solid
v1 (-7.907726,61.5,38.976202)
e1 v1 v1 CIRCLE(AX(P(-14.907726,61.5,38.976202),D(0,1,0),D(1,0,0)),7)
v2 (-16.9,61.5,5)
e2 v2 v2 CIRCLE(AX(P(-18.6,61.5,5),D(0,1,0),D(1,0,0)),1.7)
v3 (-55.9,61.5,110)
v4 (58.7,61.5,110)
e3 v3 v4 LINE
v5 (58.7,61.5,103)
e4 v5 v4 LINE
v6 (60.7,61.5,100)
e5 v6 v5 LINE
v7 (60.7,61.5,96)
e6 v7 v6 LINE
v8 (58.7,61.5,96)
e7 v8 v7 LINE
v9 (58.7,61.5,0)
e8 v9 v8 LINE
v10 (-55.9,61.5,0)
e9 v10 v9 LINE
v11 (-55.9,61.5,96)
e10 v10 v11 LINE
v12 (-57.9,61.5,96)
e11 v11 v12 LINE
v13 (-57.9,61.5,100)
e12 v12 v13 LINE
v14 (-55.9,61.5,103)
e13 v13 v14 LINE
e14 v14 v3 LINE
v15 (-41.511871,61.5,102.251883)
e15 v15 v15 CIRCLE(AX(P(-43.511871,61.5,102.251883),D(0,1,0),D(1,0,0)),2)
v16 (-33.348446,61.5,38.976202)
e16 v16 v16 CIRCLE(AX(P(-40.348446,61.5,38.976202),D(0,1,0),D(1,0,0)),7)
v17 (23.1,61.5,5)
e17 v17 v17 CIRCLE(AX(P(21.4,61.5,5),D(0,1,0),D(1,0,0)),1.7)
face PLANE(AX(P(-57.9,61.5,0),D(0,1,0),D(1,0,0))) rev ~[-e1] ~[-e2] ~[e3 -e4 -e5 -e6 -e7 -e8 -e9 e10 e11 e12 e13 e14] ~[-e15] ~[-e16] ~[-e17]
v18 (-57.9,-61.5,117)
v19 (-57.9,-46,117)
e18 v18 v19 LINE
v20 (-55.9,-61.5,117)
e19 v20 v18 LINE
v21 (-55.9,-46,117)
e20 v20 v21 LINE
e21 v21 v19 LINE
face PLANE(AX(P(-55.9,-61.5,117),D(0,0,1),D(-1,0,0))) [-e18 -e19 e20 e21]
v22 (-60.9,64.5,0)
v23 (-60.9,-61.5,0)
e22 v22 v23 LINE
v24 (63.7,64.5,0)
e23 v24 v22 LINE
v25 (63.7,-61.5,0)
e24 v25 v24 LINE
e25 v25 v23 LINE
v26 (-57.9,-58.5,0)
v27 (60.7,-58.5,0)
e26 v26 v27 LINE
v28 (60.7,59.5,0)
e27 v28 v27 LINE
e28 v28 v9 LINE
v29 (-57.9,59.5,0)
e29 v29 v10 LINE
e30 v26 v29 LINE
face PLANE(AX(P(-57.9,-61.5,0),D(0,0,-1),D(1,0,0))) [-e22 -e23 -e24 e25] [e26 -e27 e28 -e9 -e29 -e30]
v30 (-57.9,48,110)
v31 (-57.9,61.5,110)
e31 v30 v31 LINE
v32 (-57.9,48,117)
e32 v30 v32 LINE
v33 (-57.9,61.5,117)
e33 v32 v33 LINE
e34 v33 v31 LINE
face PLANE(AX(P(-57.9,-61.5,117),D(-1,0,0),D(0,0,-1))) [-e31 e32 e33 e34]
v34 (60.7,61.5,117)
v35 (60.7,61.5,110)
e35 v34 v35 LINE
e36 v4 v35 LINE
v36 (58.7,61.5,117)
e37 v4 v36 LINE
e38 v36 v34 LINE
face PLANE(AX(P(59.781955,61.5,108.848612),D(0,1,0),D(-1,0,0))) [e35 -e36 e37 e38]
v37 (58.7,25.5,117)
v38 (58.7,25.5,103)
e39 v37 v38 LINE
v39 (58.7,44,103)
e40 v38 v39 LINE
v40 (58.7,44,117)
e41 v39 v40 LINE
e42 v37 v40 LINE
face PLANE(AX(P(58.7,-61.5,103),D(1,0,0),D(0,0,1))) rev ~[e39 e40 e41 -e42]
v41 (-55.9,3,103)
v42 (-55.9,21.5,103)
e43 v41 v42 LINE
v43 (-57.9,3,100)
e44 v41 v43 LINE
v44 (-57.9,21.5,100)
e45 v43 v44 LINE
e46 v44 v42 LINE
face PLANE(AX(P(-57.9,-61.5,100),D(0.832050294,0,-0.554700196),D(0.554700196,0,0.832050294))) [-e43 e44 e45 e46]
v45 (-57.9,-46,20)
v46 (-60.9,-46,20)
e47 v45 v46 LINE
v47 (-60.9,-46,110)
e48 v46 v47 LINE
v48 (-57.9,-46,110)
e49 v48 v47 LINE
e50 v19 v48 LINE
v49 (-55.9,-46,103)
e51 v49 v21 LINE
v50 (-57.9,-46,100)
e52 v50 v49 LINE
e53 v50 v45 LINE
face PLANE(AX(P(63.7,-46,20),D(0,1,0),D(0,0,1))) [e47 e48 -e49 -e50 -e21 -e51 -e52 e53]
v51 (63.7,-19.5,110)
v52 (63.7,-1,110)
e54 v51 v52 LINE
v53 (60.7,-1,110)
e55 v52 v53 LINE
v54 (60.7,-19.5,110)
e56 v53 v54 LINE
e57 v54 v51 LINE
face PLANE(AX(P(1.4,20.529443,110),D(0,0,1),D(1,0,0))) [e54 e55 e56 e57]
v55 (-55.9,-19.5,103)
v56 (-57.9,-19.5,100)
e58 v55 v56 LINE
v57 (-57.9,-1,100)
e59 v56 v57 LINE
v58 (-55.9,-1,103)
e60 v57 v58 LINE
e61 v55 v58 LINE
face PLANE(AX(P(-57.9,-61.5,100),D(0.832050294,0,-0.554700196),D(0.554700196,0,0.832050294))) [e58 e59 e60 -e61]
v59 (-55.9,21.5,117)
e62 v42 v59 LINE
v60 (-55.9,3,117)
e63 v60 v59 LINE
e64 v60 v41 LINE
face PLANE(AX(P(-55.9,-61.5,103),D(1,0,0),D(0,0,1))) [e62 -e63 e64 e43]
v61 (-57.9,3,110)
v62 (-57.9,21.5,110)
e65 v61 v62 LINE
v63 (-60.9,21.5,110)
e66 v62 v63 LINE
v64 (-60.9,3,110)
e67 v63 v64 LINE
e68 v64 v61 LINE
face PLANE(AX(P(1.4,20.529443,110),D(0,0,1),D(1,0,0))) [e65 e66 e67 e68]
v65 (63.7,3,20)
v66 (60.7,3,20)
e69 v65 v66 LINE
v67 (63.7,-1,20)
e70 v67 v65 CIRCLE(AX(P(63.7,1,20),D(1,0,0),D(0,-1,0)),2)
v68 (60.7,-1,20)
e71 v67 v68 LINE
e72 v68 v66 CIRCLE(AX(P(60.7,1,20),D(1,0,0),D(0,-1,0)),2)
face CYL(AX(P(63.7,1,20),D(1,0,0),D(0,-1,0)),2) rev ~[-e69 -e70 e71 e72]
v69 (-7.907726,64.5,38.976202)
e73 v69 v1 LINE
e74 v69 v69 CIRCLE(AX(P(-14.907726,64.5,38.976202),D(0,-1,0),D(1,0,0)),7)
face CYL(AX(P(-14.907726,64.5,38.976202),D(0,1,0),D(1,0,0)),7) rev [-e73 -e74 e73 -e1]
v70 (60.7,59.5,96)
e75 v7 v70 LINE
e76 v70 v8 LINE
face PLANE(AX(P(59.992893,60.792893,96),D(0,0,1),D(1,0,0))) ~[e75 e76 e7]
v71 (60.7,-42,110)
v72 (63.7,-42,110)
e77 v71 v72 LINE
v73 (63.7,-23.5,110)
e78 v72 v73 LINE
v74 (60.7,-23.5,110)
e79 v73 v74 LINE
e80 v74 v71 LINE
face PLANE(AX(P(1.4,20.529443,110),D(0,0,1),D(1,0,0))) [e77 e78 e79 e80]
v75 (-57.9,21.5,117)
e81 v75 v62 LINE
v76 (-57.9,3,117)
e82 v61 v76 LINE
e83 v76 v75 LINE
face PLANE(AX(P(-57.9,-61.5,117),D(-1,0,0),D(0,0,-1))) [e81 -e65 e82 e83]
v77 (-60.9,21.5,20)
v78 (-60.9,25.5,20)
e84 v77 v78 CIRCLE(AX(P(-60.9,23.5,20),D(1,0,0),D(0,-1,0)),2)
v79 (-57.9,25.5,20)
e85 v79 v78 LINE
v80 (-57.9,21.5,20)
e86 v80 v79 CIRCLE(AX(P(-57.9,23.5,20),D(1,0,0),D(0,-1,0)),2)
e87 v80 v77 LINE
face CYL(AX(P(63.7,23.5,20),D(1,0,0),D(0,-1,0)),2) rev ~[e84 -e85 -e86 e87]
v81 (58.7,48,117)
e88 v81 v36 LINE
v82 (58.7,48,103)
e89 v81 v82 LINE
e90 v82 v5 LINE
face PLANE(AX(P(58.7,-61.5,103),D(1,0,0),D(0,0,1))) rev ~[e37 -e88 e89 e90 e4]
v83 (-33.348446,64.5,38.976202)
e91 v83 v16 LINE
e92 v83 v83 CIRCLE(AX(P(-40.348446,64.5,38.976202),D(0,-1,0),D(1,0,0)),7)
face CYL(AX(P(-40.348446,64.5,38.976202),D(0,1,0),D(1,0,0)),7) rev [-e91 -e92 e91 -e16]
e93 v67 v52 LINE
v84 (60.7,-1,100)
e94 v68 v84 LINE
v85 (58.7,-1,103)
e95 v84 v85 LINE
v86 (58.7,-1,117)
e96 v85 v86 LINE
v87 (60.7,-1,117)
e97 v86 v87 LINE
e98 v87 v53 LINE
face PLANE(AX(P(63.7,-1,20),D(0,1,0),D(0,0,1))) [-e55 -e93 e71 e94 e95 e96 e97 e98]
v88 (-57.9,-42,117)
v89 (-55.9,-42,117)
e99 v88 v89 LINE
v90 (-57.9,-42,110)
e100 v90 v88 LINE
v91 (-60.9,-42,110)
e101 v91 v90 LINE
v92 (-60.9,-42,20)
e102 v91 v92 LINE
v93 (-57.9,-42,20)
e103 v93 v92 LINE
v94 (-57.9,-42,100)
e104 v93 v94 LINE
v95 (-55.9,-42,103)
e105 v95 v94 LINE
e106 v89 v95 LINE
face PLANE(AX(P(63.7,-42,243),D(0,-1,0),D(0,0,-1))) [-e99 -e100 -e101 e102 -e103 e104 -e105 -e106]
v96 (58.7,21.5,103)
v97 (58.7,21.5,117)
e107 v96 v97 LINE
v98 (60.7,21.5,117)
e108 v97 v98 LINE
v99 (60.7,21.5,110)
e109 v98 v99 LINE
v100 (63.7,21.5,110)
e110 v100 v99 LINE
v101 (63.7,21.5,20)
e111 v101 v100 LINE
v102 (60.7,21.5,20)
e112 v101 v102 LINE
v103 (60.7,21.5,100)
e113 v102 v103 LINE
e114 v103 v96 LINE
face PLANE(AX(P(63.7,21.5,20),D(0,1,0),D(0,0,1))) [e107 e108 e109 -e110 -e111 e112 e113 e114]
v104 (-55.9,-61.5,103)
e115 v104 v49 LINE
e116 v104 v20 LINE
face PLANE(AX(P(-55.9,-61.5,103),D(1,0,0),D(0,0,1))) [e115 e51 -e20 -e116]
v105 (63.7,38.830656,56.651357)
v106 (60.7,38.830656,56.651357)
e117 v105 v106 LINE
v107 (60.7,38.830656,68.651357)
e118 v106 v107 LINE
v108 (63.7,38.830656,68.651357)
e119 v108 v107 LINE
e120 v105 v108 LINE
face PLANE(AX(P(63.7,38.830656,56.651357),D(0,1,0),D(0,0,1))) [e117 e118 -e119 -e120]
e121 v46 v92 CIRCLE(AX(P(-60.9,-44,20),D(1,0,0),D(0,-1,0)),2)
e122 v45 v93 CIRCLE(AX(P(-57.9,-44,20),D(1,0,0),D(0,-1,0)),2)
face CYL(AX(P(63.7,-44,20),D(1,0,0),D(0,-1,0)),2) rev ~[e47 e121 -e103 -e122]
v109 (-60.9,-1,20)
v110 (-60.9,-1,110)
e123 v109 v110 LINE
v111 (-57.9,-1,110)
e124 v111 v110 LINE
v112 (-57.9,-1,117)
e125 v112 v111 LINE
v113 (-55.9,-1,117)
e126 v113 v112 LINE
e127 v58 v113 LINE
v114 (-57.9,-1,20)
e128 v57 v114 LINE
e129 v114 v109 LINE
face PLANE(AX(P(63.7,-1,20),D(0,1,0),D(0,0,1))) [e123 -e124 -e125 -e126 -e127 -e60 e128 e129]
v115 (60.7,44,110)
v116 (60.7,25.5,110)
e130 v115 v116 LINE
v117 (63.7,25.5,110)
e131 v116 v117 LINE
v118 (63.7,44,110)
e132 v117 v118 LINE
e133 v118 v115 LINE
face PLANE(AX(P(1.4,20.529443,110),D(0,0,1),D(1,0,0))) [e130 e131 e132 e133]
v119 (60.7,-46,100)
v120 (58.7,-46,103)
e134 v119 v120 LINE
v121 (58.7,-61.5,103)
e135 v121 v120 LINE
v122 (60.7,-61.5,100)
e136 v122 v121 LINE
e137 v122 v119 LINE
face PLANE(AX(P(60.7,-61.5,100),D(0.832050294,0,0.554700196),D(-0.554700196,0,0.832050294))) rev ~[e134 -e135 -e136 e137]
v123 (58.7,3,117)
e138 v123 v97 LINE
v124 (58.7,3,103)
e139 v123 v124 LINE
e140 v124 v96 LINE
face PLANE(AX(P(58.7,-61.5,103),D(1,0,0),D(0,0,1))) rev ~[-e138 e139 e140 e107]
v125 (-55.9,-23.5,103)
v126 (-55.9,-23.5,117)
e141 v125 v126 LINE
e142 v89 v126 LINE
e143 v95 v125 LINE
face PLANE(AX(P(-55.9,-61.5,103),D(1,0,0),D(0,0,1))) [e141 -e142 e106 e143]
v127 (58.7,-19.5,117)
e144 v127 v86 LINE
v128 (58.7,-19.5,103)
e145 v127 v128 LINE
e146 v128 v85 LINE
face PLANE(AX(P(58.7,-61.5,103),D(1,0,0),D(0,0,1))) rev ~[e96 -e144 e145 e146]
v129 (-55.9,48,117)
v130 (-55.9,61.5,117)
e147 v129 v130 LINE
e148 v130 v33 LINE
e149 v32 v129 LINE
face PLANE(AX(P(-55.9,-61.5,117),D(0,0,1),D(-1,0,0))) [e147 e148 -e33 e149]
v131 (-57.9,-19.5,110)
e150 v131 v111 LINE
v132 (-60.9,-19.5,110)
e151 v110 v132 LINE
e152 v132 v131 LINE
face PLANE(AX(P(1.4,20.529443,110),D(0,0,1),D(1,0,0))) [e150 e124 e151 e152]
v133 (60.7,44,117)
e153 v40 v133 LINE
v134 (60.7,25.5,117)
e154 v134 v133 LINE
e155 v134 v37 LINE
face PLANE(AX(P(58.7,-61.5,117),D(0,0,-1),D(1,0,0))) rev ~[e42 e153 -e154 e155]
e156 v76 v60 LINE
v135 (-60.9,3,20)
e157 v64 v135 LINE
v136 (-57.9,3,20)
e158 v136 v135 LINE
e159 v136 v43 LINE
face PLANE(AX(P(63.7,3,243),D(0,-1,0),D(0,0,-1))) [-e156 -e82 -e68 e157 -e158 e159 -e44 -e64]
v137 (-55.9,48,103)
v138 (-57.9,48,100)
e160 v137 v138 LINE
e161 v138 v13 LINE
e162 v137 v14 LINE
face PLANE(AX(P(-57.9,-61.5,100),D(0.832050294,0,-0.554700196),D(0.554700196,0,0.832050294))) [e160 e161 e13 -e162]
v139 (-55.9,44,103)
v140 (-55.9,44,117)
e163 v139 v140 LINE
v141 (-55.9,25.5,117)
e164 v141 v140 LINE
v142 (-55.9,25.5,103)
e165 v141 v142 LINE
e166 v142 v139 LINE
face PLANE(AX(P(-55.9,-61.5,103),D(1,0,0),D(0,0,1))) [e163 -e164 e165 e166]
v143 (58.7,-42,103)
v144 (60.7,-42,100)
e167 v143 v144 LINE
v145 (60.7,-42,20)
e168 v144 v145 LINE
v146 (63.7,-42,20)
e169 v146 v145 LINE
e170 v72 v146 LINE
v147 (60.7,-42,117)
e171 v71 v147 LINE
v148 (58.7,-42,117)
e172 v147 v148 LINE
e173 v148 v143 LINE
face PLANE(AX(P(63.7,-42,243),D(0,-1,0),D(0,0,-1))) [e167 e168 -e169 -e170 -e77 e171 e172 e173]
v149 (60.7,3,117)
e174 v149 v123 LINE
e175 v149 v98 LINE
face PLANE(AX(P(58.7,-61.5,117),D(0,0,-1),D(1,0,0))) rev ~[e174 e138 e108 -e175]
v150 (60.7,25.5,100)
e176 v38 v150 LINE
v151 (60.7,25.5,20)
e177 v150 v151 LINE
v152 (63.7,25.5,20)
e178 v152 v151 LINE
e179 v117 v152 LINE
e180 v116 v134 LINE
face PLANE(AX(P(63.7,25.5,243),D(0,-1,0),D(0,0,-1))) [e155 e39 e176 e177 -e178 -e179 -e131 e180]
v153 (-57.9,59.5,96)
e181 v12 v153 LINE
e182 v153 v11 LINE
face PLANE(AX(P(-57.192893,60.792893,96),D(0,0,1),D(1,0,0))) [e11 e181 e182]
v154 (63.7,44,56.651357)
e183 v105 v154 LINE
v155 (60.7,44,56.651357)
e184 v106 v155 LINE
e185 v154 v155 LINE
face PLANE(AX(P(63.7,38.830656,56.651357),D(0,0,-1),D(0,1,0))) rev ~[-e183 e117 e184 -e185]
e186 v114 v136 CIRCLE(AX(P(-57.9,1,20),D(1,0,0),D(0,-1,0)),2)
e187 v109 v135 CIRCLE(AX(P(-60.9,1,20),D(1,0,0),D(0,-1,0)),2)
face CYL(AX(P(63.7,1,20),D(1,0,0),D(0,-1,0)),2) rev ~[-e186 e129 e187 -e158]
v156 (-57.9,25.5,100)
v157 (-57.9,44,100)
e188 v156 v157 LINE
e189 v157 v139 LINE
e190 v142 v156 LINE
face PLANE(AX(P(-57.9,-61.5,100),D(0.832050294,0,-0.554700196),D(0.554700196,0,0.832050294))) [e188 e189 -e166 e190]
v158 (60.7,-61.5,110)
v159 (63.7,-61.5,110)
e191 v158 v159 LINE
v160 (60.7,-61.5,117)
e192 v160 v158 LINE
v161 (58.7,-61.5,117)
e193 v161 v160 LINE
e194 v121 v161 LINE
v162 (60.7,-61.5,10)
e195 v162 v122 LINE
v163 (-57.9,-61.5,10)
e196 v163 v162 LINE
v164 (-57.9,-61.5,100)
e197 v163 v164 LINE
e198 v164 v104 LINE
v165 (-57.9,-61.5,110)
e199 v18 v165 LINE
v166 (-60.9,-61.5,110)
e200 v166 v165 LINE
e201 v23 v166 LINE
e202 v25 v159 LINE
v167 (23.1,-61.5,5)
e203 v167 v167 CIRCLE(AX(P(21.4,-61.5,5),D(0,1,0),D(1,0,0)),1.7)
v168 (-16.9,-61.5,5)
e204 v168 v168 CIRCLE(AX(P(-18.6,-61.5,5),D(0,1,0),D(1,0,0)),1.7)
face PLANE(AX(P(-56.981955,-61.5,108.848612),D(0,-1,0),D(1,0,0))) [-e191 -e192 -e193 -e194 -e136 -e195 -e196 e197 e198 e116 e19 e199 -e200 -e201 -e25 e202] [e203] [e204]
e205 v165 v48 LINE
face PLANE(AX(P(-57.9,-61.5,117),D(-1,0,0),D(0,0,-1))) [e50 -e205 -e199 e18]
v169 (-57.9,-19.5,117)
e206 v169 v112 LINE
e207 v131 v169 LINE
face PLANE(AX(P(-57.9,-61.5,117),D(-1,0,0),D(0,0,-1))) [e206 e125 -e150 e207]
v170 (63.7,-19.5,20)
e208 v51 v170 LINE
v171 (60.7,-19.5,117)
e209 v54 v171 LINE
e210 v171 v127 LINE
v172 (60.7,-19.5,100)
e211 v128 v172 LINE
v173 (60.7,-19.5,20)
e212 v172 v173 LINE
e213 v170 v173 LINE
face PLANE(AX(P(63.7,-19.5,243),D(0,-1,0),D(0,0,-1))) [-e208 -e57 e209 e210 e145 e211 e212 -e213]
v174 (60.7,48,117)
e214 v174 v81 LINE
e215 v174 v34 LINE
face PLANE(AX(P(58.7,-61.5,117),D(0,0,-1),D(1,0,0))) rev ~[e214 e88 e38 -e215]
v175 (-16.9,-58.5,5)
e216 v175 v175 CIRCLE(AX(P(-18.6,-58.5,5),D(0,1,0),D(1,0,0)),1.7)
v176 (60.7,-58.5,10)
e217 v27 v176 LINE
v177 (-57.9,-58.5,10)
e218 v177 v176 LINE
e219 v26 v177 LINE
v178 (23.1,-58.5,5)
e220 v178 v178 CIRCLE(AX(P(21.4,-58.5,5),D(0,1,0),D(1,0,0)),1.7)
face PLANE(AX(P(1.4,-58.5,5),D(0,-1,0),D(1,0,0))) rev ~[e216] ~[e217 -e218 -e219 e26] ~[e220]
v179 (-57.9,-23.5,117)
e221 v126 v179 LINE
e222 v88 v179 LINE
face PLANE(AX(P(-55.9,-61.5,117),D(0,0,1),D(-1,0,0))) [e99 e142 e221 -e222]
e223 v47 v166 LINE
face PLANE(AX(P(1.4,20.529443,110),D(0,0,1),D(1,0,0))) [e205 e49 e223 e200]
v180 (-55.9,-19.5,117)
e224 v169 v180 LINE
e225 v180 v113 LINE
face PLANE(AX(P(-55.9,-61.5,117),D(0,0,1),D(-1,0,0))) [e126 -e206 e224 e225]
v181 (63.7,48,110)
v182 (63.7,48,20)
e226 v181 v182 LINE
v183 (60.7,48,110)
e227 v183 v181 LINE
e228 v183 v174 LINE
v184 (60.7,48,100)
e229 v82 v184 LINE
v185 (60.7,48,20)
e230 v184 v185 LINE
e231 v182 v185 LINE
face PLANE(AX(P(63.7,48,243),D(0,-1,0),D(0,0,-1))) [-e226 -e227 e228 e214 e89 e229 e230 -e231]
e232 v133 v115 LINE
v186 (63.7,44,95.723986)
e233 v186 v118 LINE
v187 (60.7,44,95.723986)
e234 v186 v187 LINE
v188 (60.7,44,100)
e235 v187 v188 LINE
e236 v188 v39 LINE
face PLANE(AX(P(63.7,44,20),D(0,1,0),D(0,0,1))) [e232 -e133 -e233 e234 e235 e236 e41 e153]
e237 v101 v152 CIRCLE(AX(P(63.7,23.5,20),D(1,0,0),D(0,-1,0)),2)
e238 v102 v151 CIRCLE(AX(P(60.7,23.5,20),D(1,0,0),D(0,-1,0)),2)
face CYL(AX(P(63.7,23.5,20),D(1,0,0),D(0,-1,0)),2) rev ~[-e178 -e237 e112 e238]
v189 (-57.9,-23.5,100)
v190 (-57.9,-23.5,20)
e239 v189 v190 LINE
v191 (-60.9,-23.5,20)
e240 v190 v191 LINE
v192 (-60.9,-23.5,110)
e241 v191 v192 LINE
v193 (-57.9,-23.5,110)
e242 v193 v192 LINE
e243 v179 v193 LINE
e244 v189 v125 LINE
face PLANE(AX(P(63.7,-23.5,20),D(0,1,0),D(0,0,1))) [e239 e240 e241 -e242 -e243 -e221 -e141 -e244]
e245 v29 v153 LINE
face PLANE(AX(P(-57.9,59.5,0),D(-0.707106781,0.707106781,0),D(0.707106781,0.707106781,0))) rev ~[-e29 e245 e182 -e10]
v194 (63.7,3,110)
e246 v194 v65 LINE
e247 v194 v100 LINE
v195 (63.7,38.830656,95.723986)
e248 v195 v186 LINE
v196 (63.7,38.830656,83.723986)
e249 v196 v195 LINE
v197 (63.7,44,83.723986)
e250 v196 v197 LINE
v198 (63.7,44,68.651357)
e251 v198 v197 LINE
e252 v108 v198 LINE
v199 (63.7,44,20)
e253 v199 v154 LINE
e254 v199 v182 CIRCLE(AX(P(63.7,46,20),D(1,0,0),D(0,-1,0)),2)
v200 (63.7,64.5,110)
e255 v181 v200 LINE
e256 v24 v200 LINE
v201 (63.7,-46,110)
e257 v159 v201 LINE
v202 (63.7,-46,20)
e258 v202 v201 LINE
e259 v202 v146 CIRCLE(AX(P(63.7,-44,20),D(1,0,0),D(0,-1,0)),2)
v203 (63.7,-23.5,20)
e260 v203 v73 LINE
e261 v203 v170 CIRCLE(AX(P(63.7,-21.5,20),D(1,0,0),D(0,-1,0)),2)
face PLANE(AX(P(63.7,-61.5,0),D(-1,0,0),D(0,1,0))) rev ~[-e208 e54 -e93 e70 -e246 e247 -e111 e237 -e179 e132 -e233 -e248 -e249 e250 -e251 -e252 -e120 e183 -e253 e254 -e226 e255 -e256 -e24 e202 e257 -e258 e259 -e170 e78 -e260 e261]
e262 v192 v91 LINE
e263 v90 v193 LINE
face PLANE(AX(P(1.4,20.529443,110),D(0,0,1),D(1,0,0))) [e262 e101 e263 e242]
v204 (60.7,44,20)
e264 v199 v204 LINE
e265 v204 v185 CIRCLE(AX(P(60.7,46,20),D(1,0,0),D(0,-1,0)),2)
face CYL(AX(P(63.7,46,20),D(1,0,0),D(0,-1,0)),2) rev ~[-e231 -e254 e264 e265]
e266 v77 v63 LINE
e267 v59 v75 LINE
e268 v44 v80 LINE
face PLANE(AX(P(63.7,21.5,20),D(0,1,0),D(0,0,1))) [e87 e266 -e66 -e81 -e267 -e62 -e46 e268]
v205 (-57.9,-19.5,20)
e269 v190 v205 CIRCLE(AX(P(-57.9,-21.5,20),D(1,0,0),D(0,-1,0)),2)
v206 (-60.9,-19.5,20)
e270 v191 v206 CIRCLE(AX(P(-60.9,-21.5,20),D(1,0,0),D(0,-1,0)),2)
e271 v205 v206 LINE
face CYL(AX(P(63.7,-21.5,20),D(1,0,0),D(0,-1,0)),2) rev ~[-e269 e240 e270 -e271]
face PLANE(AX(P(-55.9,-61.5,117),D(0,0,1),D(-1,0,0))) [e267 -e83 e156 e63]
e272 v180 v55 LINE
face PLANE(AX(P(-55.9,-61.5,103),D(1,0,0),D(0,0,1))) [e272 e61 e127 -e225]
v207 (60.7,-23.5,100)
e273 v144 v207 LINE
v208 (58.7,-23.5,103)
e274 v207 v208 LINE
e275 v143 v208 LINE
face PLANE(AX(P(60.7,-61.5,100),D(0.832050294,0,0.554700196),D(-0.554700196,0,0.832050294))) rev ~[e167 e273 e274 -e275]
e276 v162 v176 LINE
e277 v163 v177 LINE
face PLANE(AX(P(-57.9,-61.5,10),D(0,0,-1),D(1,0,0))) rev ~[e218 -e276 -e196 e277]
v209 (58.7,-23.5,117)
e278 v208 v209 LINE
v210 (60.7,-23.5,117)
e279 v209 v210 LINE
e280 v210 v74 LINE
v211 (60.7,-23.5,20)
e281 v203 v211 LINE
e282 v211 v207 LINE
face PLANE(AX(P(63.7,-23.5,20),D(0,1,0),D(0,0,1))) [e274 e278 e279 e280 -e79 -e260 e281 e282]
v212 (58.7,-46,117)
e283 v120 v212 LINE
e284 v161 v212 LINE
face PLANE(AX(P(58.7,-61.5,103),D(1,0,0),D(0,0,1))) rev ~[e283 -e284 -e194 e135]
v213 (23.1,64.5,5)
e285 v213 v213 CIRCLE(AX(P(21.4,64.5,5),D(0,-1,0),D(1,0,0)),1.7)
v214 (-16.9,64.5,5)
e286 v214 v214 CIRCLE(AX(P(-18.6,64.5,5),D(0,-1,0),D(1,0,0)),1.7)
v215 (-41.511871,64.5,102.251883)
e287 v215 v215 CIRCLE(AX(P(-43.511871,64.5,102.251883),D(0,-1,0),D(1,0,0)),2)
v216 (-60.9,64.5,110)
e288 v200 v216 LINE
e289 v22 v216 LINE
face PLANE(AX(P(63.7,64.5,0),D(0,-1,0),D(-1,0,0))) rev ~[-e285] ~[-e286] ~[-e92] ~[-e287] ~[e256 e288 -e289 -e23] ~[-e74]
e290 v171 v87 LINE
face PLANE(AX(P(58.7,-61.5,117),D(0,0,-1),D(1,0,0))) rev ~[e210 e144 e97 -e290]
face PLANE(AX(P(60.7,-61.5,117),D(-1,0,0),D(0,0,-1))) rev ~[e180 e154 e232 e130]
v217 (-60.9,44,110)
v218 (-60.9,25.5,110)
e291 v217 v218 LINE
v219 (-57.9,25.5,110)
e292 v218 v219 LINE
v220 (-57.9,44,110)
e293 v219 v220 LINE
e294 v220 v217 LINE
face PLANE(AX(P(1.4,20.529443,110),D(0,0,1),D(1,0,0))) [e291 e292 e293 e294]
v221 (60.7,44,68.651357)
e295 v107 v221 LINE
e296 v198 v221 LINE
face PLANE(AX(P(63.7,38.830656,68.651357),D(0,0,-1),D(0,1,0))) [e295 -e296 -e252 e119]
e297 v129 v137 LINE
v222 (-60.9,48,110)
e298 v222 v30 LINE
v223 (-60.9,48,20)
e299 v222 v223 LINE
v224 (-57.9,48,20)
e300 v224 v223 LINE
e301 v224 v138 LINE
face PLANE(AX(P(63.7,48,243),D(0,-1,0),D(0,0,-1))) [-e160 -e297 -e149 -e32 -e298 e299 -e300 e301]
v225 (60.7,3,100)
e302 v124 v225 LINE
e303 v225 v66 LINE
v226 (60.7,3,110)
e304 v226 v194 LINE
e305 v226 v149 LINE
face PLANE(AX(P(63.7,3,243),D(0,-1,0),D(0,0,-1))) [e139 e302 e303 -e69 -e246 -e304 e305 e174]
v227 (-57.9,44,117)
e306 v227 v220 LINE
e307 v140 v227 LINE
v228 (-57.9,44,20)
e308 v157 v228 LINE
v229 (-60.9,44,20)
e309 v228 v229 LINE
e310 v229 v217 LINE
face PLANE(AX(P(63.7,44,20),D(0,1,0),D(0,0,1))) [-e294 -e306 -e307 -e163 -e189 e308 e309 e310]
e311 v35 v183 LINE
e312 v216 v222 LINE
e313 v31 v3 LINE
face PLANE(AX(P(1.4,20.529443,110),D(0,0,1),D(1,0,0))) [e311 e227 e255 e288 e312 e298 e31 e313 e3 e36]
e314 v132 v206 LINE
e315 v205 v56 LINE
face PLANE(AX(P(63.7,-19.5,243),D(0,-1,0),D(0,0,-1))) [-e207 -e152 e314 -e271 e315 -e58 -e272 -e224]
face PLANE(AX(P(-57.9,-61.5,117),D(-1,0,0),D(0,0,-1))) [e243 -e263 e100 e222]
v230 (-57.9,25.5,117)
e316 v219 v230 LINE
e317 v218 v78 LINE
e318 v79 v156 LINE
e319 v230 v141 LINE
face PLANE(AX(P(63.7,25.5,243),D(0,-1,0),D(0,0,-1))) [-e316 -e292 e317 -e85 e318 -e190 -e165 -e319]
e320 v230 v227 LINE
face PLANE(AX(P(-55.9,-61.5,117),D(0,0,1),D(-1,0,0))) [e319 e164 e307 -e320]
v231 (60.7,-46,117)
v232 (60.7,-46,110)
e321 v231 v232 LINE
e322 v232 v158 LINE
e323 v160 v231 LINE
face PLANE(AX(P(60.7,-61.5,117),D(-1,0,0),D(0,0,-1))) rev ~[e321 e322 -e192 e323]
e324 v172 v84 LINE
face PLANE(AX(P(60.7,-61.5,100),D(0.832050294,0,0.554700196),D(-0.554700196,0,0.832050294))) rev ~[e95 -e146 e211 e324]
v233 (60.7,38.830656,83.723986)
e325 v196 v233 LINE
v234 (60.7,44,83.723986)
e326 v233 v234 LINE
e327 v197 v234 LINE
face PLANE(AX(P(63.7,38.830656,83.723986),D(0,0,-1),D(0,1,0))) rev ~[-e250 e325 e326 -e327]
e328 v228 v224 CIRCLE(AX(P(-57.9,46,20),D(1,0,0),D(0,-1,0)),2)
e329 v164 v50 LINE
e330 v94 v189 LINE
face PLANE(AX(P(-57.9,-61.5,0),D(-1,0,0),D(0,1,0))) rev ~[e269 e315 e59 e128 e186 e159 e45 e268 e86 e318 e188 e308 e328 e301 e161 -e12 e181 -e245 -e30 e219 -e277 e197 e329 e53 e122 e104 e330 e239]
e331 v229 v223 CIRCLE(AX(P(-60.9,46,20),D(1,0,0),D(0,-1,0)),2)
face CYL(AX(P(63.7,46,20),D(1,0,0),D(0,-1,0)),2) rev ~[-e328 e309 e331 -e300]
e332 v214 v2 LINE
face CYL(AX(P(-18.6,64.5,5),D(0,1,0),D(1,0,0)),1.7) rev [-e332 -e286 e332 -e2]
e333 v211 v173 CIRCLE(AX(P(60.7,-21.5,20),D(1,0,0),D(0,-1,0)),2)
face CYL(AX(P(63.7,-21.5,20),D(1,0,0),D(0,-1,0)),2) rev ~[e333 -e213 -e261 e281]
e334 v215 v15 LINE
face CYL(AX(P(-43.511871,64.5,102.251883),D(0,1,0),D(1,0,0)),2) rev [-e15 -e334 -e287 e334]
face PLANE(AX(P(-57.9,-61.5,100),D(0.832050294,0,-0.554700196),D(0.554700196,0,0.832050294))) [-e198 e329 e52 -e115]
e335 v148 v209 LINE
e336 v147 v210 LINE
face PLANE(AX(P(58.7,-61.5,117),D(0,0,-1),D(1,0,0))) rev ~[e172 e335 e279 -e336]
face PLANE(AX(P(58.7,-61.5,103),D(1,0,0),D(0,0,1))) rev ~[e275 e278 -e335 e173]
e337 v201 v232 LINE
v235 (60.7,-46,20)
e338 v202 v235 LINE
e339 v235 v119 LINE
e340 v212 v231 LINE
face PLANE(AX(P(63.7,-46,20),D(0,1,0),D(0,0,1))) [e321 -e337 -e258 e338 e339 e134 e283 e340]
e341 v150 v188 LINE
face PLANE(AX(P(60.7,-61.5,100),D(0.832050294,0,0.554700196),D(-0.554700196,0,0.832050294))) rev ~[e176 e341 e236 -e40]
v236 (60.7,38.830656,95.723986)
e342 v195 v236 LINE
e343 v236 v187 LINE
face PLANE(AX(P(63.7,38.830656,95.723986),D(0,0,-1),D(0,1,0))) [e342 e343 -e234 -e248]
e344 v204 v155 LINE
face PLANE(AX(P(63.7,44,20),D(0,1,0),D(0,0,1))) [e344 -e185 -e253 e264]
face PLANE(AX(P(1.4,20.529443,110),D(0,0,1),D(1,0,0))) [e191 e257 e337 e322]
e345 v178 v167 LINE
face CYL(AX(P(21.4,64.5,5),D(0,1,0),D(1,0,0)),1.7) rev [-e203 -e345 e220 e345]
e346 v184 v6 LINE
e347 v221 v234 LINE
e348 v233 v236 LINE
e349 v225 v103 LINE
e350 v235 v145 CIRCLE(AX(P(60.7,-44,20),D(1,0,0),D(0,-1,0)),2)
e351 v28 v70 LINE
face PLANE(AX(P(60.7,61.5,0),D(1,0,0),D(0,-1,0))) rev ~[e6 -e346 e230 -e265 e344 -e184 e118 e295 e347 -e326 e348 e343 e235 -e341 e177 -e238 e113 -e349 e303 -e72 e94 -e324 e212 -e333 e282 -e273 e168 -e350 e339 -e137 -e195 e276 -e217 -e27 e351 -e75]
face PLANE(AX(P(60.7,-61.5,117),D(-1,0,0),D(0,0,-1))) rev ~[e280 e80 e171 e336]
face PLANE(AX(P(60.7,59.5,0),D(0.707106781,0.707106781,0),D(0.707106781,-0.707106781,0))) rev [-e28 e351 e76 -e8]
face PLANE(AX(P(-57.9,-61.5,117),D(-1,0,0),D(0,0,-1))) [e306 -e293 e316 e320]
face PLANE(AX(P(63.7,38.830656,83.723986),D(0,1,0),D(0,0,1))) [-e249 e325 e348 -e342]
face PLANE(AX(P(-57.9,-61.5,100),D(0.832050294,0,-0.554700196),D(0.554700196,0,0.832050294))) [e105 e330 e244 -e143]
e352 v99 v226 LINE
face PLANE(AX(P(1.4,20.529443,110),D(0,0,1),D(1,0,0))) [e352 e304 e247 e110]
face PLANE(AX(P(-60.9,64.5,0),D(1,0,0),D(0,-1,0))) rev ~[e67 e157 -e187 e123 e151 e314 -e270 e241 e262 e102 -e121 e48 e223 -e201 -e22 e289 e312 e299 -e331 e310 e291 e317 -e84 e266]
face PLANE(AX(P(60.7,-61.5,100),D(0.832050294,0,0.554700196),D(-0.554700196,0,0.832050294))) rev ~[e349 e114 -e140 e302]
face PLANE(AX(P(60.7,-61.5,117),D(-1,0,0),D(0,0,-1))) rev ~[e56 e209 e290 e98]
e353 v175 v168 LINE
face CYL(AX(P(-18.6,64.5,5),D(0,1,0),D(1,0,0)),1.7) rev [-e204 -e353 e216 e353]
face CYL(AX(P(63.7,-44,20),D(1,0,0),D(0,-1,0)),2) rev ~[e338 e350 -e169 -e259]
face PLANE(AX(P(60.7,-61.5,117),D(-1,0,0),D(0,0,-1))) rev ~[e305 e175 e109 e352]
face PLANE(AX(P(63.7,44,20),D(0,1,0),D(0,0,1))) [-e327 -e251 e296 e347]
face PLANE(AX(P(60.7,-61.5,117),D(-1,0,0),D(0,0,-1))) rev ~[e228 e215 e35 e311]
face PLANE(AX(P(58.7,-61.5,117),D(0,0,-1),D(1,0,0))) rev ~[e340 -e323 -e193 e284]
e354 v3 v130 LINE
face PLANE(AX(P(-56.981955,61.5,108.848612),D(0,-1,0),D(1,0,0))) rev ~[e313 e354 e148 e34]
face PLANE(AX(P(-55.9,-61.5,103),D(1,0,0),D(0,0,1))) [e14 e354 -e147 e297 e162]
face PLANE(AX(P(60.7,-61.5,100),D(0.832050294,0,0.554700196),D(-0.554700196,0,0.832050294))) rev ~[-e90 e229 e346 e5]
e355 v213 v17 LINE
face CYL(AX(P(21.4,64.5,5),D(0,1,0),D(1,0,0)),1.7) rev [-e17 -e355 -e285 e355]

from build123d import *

# Parameters (mm, degrees)
PAD_DEPTH           = 110
PAD001_DEPTH        = 96
SKETCH003_W         = 118.6
SKETCH003_H         = 10
PAD002_DEPTH        = 3
PAD003_DEPTH        = 123
POCKET001_DEPTH     = 124.601
LINEARPATTERN_COUNT = 5
LINEARPATTERN_PITCH = 22.5
SKETCH012_W         = 6
SKETCH012_H         = 12
POCKET_DEPTH        = 5
SKETCH013_R         = 1.7
POCKET004_DEPTH     = 126.001
SKETCH014_R         = 7
SKETCH014_R_2       = 2
POCKET005_DEPTH     = 5


with BuildPart() as part:
    # Sketch → Pad (new body)
    with BuildSketch(Plane.XY):
        Polygon((62.3, 64.5), (-62.3, 64.5), (-62.3, -61.5), (-59.3, -61.5), (-59.3, 61.5), (59.3, 61.5), (59.3, -61.5), (62.3, -61.5), align=None)
    extrude(amount=PAD_DEPTH)

    # Sketch001 → Pad001 (join)
    with BuildSketch(Plane.XY):
        Polygon((-59.3, 59.5), (-57.3, 61.5), (-59.3, 61.5), align=None)
    pad001 = extrude(amount=PAD001_DEPTH)

    # Mirrored: Pad001 across YZ
    add(pad001.mirror(Plane.YZ))

    # Sketch003 (on DatumPlane) → Pad002 (join)
    with BuildSketch(Plane.XZ.offset(61.5)):
        with Locations((0, 5)):
            Rectangle(SKETCH003_W, SKETCH003_H)
    extrude(amount=-PAD002_DEPTH)

    # Sketch004 (on DatumPlane) → Pad003 (join)
    with BuildSketch(Plane.XZ.offset(61.5)):
        Polygon((-57.3, 117), (-59.3, 117), (-59.3, 100), (-57.3, 103), align=None)
        Polygon((57.3, 103), (57.3, 117), (59.3, 117), (59.3, 100), align=None)
    extrude(amount=-PAD003_DEPTH)

    # Sketch009 (on DatumPlane) → Pocket001 (cut, through all)
    with BuildSketch(Plane.YZ.offset(62.3)):
        with BuildLine():
            Line((-46, 20), (-46, 243))
            ThreePointArc((-42, 243), (-44, 245), (-46, 243))
            Line((-42, 243), (-42, 20))
            ThreePointArc((-46, 20), (-44, 18), (-42, 20))
        make_face()
    pocket001 = extrude(amount=-POCKET001_DEPTH, mode=Mode.SUBTRACT)

    # LinearPattern: Pocket001 ×5
    with Locations(*[(0, i * LINEARPATTERN_PITCH, 0) for i in range(1, LINEARPATTERN_COUNT)]):
        add(pocket001, mode=Mode.SUBTRACT)

    # Sketch012 (on DatumPlane) → Pocket (cut)
    with BuildSketch(Plane.YZ.offset(62.3)):
        with Locations((41.830656, 89.723986)):
            Rectangle(SKETCH012_W, SKETCH012_H)
        with Locations((41.830656, 62.651357)):
            Rectangle(SKETCH012_W, SKETCH012_H)
    extrude(amount=-POCKET_DEPTH, mode=Mode.SUBTRACT)

    # Sketch013 (on DatumPlane) → Pocket004 (cut, through all)
    with BuildSketch(Plane.XZ.offset(-64.5)):
        with Locations((20, 5)):
            Circle(SKETCH013_R)
        with Locations((-20, 5)):
            Circle(SKETCH013_R)
    extrude(amount=POCKET004_DEPTH, mode=Mode.SUBTRACT)

    # Sketch014 (on DatumPlane) → Pocket005 (cut)
    with BuildSketch(Plane.XZ.offset(-64.5)):
        with Locations((-16.307726, 38.976202)):
            Circle(SKETCH014_R)
        with Locations((-41.748446, 38.976202)):
            Circle(SKETCH014_R)
        with Locations((-44.911871, 102.251883)):
            Circle(SKETCH014_R_2)
    extrude(amount=POCKET005_DEPTH, mode=Mode.SUBTRACT)


with BuildPart() as part_1:
    # Body placement: moved
    add(part.part.moved(Location((1.4, 0, 0))))


solid = part_1.part
